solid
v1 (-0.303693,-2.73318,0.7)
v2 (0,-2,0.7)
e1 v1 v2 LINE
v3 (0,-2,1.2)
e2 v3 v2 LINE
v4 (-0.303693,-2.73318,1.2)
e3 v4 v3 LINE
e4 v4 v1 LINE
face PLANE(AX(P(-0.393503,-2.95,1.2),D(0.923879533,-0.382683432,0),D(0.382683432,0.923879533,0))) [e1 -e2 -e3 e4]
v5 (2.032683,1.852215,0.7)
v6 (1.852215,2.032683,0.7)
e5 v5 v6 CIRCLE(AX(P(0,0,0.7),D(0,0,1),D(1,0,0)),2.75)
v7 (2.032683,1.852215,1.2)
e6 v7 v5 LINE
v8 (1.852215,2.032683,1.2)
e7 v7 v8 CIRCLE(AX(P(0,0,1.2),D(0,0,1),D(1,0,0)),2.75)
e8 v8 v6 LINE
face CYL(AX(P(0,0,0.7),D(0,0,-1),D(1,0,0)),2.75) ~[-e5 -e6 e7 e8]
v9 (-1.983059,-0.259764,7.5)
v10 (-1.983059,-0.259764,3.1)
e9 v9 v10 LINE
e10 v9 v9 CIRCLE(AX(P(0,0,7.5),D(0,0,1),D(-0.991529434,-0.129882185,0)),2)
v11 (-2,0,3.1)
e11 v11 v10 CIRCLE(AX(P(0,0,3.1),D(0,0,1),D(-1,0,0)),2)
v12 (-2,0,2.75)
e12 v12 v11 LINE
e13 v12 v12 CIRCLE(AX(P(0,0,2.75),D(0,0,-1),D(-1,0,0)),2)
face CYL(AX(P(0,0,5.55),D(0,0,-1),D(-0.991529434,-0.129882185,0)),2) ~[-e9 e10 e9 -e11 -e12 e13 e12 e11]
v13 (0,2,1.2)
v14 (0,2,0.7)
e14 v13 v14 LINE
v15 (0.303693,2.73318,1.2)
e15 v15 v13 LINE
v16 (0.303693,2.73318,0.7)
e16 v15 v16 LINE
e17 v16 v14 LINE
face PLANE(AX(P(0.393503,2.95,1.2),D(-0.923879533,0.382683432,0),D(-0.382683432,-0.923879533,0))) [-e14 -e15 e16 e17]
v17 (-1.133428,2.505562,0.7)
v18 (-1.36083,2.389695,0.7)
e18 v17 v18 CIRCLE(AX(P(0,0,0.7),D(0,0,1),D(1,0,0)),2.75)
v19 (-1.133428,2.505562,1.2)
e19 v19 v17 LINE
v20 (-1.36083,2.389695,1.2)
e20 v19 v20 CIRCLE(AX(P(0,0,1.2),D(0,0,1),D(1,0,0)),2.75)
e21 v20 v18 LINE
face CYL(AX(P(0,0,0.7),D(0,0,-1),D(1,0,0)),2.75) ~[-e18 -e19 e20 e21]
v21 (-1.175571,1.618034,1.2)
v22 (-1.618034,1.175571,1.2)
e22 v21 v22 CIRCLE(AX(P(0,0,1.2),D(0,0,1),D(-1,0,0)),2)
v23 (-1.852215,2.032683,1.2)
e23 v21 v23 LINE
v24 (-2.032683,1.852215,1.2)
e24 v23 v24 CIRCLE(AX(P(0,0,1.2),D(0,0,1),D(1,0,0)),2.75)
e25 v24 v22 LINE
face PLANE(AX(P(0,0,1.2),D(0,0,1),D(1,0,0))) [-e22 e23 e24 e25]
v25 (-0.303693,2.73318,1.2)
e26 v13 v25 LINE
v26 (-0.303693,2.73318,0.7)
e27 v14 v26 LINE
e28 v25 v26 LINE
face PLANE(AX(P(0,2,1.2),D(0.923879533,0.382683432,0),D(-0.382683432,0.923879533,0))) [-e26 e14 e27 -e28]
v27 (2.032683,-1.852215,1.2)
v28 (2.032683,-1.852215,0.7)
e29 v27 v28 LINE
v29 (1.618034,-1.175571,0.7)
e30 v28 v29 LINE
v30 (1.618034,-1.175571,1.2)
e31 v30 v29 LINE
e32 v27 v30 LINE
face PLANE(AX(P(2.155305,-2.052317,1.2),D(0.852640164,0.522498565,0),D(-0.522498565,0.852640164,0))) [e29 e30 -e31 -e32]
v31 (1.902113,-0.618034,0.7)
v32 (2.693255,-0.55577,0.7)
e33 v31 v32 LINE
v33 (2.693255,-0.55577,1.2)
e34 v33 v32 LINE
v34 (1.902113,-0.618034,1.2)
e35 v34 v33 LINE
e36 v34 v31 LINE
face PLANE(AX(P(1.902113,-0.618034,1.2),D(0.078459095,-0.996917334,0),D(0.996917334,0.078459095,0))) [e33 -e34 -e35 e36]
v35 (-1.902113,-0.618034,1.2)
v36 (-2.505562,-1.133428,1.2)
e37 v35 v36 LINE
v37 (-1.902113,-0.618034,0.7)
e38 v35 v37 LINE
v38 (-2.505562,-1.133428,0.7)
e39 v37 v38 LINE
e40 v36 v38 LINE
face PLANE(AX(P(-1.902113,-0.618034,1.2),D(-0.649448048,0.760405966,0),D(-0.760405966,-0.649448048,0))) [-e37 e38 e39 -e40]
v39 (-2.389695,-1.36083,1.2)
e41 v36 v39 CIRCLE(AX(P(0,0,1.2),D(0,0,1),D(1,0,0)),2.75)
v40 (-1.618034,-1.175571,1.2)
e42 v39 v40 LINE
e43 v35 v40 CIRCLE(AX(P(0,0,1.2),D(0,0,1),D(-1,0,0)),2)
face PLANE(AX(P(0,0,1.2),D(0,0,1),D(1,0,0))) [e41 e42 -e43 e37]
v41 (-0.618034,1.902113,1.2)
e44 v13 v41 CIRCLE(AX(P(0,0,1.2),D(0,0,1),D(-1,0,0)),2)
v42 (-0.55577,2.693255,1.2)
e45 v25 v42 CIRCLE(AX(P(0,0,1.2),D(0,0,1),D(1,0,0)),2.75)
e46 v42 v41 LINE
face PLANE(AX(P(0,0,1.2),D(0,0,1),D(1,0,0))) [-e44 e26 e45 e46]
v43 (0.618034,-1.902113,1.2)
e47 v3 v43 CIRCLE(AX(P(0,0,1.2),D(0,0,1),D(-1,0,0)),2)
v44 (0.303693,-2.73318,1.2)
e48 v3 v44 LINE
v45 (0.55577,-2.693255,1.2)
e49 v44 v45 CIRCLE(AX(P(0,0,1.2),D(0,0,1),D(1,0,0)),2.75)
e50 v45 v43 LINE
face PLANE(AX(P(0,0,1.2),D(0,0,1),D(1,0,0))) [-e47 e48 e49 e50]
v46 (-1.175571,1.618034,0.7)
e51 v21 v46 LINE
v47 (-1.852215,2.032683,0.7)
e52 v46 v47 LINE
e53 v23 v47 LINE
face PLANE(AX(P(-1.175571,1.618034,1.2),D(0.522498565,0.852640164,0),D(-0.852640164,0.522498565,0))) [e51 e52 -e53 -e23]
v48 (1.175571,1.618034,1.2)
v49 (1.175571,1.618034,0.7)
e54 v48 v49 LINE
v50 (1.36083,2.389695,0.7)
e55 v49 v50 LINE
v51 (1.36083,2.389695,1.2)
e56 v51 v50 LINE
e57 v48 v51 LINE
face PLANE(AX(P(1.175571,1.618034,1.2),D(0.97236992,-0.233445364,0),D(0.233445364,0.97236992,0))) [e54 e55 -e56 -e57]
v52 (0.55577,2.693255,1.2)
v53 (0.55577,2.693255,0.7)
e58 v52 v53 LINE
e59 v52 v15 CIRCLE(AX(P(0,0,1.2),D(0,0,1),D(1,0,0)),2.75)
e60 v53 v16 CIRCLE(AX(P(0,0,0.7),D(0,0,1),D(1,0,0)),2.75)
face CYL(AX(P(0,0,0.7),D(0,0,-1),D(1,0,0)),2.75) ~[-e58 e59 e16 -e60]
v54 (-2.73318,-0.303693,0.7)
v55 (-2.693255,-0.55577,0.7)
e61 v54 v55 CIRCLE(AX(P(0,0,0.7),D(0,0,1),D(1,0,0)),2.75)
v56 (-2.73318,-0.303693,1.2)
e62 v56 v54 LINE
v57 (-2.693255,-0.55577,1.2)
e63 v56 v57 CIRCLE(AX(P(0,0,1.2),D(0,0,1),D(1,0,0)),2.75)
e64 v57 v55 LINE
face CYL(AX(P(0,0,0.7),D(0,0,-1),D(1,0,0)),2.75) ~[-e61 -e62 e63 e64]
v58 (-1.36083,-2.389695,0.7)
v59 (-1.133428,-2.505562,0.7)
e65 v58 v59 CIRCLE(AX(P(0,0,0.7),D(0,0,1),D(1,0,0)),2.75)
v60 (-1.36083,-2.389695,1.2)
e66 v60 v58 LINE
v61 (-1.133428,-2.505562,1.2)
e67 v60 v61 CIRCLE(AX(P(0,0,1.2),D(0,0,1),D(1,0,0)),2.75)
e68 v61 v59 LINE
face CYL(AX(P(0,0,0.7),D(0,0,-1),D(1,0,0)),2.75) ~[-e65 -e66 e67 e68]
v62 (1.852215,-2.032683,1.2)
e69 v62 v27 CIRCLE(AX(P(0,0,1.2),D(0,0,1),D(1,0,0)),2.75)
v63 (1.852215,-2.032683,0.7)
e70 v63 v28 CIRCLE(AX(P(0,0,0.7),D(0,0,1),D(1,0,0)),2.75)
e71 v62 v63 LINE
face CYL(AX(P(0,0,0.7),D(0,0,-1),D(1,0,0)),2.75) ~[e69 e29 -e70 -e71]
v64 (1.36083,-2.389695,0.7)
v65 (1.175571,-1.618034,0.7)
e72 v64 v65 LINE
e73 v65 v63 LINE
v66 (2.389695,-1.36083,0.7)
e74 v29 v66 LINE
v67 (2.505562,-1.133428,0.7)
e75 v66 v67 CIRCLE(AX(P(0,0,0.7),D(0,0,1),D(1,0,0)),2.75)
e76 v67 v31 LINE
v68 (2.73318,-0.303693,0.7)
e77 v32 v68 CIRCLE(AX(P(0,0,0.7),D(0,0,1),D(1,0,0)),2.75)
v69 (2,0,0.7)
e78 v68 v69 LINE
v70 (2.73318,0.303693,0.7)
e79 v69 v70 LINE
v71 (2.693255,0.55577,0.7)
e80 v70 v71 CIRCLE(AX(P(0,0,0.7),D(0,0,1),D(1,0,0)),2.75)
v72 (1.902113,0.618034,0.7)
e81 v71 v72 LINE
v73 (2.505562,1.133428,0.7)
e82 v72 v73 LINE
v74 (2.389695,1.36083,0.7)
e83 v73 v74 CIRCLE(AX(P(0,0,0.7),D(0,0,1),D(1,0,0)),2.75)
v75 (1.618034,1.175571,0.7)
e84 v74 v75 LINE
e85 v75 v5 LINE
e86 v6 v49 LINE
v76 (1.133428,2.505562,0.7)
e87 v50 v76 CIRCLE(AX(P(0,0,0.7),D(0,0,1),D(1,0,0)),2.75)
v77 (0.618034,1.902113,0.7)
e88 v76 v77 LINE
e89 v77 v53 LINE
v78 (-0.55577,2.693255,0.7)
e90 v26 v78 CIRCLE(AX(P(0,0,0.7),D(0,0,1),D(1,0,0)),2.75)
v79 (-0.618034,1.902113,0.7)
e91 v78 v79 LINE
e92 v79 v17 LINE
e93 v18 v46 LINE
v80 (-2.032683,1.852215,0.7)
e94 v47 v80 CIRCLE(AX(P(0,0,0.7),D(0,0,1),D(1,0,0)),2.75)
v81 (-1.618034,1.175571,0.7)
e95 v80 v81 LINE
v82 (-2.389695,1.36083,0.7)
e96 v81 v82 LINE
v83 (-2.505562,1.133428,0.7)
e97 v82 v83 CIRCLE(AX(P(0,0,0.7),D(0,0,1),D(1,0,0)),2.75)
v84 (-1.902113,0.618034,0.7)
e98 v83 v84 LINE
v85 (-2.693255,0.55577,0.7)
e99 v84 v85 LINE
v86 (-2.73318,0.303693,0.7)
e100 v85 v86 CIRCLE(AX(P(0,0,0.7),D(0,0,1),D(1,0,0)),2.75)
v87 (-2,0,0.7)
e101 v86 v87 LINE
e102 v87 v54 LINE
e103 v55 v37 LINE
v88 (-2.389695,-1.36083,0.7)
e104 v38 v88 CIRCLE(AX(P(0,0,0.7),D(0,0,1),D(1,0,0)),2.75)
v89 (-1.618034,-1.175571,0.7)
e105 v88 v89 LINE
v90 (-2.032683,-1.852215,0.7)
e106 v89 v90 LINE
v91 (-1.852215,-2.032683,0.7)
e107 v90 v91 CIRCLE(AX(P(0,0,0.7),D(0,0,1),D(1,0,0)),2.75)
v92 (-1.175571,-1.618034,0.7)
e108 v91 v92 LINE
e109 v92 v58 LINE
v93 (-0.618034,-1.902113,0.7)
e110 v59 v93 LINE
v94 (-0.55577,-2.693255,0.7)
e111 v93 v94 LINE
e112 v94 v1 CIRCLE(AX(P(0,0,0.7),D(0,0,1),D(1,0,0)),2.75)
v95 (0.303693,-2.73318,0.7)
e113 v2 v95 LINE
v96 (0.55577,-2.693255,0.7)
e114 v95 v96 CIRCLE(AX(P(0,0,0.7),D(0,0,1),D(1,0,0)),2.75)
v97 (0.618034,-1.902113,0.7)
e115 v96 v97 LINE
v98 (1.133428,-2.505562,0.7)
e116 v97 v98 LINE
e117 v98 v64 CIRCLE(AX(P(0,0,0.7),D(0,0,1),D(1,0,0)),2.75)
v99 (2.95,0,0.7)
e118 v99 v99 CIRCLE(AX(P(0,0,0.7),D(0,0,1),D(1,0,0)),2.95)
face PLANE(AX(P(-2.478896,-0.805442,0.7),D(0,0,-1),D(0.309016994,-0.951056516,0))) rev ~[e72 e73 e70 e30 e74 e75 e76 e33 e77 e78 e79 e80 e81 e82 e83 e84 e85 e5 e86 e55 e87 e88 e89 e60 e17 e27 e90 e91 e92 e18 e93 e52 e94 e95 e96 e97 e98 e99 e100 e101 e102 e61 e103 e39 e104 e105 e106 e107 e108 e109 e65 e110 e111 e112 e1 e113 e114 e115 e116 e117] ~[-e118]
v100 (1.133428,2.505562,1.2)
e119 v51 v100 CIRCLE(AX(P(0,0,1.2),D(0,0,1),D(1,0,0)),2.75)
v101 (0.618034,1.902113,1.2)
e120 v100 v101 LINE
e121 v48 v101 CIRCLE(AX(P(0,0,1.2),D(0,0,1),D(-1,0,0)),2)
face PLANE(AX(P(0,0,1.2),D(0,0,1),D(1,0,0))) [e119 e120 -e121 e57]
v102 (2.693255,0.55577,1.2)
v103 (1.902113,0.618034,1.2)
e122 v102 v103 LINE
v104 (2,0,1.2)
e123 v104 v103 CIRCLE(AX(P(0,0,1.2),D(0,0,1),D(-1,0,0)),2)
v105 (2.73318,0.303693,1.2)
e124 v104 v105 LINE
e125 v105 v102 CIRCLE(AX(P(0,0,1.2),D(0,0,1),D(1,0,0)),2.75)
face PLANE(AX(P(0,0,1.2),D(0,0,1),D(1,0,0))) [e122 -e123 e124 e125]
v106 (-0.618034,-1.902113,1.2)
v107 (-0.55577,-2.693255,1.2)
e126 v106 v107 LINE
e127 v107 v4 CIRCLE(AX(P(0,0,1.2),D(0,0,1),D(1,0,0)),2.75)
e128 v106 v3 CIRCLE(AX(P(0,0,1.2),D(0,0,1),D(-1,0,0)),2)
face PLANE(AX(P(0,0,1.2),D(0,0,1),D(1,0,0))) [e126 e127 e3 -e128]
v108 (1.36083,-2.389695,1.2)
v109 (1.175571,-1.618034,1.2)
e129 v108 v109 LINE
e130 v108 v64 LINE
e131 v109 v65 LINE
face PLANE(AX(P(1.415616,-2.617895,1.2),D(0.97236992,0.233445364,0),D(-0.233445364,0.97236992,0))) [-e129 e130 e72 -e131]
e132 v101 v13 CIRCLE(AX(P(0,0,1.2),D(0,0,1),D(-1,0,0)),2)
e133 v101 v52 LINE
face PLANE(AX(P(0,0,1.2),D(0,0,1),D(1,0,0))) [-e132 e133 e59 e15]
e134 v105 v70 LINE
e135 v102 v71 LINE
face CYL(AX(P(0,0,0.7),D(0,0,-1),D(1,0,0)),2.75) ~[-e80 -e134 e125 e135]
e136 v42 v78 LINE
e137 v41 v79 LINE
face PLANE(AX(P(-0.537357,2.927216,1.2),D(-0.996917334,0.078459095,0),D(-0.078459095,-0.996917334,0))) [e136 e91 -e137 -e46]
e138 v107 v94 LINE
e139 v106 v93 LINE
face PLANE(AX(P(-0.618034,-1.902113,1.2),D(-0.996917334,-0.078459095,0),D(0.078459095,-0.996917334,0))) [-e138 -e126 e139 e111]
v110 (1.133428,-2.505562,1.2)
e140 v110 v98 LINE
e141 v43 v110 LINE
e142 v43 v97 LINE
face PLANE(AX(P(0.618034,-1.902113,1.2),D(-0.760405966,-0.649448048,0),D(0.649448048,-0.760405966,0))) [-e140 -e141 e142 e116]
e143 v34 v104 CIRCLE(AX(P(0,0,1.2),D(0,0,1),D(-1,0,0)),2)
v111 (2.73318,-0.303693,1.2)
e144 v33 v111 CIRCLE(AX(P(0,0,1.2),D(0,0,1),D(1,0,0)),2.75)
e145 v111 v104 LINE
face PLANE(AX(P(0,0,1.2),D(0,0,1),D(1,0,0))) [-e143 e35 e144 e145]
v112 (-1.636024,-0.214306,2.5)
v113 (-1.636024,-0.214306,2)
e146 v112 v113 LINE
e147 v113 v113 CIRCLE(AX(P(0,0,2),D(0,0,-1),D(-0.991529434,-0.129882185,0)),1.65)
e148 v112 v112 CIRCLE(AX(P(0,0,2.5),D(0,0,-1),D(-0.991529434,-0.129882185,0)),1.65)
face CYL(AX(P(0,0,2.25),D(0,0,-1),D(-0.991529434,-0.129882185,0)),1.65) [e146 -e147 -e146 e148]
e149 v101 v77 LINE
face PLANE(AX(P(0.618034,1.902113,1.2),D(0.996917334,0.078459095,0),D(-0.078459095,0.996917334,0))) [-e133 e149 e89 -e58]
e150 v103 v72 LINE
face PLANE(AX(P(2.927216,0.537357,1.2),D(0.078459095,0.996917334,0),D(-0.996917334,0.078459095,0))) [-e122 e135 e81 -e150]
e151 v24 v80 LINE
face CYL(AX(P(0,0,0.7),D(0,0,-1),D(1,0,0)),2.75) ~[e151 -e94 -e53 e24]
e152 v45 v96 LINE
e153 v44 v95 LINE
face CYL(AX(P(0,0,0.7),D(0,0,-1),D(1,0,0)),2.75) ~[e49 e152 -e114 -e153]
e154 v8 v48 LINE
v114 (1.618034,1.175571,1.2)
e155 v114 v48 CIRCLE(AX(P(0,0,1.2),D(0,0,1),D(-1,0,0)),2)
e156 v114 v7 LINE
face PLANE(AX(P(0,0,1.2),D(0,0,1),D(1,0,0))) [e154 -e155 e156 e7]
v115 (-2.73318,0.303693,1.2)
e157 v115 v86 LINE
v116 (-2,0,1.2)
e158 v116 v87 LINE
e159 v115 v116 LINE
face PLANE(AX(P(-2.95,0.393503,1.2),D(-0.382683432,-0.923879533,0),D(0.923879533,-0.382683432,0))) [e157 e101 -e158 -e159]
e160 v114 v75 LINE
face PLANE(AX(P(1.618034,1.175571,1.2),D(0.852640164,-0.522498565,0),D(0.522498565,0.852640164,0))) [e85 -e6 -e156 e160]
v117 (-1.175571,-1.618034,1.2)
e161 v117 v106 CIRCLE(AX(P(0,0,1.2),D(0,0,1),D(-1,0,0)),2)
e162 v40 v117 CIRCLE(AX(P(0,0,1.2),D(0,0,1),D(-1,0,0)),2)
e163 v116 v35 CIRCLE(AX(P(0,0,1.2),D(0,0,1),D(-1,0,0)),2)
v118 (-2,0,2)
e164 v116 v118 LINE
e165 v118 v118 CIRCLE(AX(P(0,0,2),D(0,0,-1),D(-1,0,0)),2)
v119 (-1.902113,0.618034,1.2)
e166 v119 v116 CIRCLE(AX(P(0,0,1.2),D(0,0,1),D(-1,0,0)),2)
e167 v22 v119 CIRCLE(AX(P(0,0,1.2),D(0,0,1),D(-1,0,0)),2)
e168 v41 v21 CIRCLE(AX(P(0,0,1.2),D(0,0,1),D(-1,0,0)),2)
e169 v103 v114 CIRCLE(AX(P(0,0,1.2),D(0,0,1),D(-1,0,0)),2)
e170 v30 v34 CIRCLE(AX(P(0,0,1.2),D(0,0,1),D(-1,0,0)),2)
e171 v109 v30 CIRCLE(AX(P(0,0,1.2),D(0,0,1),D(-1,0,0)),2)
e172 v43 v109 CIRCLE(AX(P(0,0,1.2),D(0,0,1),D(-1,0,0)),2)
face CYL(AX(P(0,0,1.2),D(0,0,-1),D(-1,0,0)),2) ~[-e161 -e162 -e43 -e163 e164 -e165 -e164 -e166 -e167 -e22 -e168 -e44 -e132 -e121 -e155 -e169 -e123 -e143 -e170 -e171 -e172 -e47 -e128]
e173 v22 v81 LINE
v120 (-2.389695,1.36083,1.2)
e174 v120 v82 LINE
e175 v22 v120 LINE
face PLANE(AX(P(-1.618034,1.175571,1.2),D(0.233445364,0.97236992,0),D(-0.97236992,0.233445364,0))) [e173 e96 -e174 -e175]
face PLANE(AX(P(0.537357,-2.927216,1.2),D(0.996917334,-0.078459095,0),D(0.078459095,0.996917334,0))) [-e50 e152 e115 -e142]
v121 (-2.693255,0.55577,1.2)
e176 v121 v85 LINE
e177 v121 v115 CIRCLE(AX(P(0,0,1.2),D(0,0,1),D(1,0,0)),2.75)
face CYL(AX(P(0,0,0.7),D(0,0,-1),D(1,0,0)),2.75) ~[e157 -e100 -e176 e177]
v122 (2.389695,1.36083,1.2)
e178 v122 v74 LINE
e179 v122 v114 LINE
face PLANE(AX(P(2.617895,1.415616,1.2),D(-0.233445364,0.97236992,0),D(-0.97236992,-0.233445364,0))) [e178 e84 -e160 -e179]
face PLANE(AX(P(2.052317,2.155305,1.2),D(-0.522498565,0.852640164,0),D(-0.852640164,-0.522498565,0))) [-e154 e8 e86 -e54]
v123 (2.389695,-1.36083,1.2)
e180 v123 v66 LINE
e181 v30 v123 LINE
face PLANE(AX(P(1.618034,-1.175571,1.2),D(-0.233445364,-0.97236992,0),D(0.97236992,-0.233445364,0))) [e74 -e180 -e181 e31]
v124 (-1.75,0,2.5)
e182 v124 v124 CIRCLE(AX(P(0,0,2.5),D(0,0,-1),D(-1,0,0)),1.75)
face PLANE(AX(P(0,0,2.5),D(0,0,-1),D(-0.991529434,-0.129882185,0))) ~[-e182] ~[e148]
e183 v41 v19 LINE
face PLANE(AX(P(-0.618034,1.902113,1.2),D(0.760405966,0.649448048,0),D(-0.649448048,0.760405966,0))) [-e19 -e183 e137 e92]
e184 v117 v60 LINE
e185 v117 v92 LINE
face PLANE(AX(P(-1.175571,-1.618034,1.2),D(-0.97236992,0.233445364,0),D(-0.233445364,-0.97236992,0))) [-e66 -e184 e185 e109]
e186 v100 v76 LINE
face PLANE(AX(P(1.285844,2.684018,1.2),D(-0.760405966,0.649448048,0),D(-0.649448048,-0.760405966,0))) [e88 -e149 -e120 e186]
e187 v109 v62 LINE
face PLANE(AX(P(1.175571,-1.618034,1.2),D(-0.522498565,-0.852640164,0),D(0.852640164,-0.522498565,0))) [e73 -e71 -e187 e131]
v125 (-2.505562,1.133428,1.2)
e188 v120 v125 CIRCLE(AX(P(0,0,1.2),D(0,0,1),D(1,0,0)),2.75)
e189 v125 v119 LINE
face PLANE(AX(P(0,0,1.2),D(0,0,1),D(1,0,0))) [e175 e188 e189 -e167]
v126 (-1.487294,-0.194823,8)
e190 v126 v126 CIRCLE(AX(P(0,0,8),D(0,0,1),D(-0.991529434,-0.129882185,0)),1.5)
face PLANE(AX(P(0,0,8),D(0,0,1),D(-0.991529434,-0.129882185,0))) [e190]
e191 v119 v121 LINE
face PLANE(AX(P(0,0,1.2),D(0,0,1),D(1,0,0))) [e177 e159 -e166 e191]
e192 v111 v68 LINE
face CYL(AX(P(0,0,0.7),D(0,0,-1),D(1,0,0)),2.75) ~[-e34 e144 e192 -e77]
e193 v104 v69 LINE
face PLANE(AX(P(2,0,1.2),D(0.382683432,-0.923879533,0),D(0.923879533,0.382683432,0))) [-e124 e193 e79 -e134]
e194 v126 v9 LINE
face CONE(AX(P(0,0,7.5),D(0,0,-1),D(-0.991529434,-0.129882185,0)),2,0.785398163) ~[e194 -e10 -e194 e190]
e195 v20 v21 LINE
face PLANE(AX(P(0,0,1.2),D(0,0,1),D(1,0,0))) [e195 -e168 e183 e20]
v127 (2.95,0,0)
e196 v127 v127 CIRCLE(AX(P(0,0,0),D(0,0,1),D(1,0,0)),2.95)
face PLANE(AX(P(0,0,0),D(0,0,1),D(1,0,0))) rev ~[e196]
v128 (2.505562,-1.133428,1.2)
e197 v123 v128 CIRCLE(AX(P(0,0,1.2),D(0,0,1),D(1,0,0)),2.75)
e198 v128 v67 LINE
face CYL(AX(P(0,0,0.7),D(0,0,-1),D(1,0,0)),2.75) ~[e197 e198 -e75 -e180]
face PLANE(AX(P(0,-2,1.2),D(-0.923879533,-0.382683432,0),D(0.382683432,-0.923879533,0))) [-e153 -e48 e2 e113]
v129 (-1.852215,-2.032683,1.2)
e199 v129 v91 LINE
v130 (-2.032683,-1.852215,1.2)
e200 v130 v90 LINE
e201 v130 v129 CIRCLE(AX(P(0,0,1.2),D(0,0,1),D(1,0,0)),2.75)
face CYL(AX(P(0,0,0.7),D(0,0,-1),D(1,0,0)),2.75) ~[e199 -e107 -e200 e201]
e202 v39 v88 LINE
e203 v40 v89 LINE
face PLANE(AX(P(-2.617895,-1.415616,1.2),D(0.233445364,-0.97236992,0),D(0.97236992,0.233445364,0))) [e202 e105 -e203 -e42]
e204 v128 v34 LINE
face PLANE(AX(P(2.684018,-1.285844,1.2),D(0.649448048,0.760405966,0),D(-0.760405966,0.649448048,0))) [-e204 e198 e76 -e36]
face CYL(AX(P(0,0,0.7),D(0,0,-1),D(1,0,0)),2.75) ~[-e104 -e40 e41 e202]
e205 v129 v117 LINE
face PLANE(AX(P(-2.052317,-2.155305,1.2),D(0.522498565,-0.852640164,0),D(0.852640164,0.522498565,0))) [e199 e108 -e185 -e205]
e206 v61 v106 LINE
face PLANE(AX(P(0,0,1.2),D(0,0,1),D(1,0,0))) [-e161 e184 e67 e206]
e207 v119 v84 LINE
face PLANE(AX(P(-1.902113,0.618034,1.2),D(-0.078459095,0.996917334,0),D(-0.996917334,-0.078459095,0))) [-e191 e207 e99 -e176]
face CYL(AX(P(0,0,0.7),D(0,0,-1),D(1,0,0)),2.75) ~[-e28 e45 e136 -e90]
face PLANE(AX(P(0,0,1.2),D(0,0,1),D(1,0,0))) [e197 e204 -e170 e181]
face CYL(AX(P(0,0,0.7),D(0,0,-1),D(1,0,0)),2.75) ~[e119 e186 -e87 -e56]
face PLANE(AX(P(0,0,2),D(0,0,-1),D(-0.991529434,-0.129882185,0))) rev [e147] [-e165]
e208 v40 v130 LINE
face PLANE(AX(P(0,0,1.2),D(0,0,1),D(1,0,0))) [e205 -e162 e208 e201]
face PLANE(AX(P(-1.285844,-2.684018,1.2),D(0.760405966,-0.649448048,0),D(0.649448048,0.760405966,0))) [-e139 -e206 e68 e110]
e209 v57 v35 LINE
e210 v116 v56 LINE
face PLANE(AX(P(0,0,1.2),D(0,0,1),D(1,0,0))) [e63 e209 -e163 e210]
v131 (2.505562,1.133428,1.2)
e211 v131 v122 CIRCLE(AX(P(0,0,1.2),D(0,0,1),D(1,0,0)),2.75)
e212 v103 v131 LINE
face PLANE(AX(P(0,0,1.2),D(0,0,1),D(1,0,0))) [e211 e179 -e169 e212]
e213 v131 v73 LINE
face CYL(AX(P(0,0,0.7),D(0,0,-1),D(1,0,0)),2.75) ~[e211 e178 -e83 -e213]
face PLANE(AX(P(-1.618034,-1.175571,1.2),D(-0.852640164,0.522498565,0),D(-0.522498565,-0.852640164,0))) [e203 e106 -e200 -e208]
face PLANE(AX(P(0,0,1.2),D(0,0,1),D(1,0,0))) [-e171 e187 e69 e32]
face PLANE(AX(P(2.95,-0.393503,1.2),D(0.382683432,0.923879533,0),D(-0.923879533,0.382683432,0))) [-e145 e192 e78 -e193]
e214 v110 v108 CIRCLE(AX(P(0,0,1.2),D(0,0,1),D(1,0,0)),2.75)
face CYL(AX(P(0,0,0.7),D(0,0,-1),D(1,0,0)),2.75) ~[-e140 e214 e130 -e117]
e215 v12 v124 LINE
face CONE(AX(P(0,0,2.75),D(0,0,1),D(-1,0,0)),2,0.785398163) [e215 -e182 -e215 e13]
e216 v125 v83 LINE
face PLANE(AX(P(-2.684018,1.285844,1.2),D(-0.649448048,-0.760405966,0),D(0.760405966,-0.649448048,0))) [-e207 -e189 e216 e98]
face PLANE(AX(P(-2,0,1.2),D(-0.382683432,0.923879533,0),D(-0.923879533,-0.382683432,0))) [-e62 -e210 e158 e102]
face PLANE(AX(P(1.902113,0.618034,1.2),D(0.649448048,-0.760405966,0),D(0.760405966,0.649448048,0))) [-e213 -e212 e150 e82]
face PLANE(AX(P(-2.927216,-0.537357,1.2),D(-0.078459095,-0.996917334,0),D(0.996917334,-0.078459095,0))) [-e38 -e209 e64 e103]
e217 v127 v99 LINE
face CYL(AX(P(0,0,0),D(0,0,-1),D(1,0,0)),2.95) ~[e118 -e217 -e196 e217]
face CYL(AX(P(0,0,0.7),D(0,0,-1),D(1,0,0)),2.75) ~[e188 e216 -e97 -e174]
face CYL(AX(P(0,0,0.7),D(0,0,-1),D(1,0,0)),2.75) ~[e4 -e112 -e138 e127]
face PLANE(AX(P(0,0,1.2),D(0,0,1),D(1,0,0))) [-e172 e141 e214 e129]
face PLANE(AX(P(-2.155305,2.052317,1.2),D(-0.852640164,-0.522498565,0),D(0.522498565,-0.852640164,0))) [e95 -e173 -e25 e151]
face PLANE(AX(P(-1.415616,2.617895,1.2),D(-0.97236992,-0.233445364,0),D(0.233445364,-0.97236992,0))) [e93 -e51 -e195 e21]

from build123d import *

# Parameters (mm, degrees)
SKETCH_1_R               = 2.95
EXTRUDE_1_DEPTH          = 1.2
SKETCH_2_R               = 2
EXTRUDE_2_DEPTH          = 1.9
CUT_EXTRUDE_1_DEPTH      = 0.5
PATTERN_CIRCULAR_1_COUNT = 20
SKETCH_4_W               = 0.35
SKETCH_4_H               = 0.5
SKETCH_6_W               = 4.9
SKETCH_6_H               = 2
CHAMFER_2_SIZE           = 0.5
CUT_EXTRUDE_START        = -0.5
SKETCH_7_R               = 2.95
SKETCH_7_R_2             = 2.75
CUT_EXTRUDE_2_DEPTH      = 0.5
CHAMFER_3_SIZE           = 0.25


with BuildPart() as part:
    # Эскиз1 → Вытянуть1 (new body)
    with BuildSketch(Plane.XY):
        Circle(SKETCH_1_R)
    extrude(amount=EXTRUDE_1_DEPTH)

    # Эскиз2 → Вытянуть2 (add)
    with BuildSketch(Plane.XY.offset(1.2)):
        with Locations(Location((0, 0, 0), (0, 0, 180))):
            Circle(SKETCH_2_R)
    extrude(amount=EXTRUDE_2_DEPTH)

    # Эскиз3 → Вырез-Вытянуть1 (cut)
    with BuildSketch(Plane.XY.offset(1.2)):
        Polygon((-0.393502884, 2.95), (0.393502884, 2.95), (0, 2), align=None)
    cut_extrude_1 = extrude(amount=-CUT_EXTRUDE_1_DEPTH, mode=Mode.SUBTRACT)

    # Круговой массив1: Вырез-Вытянуть1 ×20 about axis
    pattern_circular_1_axis = Axis((0, 0, 0), (0, 0, 1))
    for i in range(1, PATTERN_CIRCULAR_1_COUNT):
        add(cut_extrude_1.rotate(pattern_circular_1_axis, i * 360 / PATTERN_CIRCULAR_1_COUNT), mode=Mode.SUBTRACT)

    # Эскиз4 → Вырез-Повернуть1 (revolve, cut)
    with BuildSketch(Plane(origin=(0, 0, 0), x_dir=(1, 0, 0), z_dir=(0, 1, 0)), mode=Mode.PRIVATE) as cut_revolve_1_sk:
        with Locations((1.825, -2.25)):
            Rectangle(SKETCH_4_W, SKETCH_4_H)
    revolve(cut_revolve_1_sk.sketch.rotate(Axis((0, 0, 10.642619983), (0, 0, -1)), 172.537215717), axis=Axis((0, 0, 10.642619983), (0, 0, -1)), mode=Mode.SUBTRACT)

    # Эскиз6 → Повернуть1 (revolve)
    with BuildSketch(Plane(origin=(0, 0, 0), x_dir=(0, 0, -1), z_dir=(1, 0, 0)), mode=Mode.PRIVATE) as revolve_1_sk:
        with Locations((-5.55, -1)):
            Rectangle(SKETCH_6_W, SKETCH_6_H)
    revolve(revolve_1_sk.sketch.rotate(Axis((0, 0, 3.1), (0, 0, 1)), 277.462784283), axis=Axis((0, 0, 3.1), (0, 0, 1)))

    # Фаска2
    chamfer_2_edges = [part.edges().sort_by_distance(p)[0] for p in [
        (1.983058868, 0.25976437, 8),
    ]]
    chamfer(chamfer_2_edges, length=CHAMFER_2_SIZE)

    # Эскиз7 → Вырез-Вытянуть2 (cut)
    with BuildSketch(Plane.XY.offset(1.2).offset(CUT_EXTRUDE_START)):
        with Locations(Location((0, 0, 0), (0, 0, 180))):
            Circle(SKETCH_7_R)
        Circle(SKETCH_7_R_2, mode=Mode.SUBTRACT)
    extrude(amount=CUT_EXTRUDE_2_DEPTH, mode=Mode.SUBTRACT)

    # Фаска3
    chamfer_3_edges = [part.edges().sort_by_distance(p)[0] for p in [
        (2, 0, 2.5),
    ]]
    chamfer(chamfer_3_edges, length=CHAMFER_3_SIZE)


solid = part.part
